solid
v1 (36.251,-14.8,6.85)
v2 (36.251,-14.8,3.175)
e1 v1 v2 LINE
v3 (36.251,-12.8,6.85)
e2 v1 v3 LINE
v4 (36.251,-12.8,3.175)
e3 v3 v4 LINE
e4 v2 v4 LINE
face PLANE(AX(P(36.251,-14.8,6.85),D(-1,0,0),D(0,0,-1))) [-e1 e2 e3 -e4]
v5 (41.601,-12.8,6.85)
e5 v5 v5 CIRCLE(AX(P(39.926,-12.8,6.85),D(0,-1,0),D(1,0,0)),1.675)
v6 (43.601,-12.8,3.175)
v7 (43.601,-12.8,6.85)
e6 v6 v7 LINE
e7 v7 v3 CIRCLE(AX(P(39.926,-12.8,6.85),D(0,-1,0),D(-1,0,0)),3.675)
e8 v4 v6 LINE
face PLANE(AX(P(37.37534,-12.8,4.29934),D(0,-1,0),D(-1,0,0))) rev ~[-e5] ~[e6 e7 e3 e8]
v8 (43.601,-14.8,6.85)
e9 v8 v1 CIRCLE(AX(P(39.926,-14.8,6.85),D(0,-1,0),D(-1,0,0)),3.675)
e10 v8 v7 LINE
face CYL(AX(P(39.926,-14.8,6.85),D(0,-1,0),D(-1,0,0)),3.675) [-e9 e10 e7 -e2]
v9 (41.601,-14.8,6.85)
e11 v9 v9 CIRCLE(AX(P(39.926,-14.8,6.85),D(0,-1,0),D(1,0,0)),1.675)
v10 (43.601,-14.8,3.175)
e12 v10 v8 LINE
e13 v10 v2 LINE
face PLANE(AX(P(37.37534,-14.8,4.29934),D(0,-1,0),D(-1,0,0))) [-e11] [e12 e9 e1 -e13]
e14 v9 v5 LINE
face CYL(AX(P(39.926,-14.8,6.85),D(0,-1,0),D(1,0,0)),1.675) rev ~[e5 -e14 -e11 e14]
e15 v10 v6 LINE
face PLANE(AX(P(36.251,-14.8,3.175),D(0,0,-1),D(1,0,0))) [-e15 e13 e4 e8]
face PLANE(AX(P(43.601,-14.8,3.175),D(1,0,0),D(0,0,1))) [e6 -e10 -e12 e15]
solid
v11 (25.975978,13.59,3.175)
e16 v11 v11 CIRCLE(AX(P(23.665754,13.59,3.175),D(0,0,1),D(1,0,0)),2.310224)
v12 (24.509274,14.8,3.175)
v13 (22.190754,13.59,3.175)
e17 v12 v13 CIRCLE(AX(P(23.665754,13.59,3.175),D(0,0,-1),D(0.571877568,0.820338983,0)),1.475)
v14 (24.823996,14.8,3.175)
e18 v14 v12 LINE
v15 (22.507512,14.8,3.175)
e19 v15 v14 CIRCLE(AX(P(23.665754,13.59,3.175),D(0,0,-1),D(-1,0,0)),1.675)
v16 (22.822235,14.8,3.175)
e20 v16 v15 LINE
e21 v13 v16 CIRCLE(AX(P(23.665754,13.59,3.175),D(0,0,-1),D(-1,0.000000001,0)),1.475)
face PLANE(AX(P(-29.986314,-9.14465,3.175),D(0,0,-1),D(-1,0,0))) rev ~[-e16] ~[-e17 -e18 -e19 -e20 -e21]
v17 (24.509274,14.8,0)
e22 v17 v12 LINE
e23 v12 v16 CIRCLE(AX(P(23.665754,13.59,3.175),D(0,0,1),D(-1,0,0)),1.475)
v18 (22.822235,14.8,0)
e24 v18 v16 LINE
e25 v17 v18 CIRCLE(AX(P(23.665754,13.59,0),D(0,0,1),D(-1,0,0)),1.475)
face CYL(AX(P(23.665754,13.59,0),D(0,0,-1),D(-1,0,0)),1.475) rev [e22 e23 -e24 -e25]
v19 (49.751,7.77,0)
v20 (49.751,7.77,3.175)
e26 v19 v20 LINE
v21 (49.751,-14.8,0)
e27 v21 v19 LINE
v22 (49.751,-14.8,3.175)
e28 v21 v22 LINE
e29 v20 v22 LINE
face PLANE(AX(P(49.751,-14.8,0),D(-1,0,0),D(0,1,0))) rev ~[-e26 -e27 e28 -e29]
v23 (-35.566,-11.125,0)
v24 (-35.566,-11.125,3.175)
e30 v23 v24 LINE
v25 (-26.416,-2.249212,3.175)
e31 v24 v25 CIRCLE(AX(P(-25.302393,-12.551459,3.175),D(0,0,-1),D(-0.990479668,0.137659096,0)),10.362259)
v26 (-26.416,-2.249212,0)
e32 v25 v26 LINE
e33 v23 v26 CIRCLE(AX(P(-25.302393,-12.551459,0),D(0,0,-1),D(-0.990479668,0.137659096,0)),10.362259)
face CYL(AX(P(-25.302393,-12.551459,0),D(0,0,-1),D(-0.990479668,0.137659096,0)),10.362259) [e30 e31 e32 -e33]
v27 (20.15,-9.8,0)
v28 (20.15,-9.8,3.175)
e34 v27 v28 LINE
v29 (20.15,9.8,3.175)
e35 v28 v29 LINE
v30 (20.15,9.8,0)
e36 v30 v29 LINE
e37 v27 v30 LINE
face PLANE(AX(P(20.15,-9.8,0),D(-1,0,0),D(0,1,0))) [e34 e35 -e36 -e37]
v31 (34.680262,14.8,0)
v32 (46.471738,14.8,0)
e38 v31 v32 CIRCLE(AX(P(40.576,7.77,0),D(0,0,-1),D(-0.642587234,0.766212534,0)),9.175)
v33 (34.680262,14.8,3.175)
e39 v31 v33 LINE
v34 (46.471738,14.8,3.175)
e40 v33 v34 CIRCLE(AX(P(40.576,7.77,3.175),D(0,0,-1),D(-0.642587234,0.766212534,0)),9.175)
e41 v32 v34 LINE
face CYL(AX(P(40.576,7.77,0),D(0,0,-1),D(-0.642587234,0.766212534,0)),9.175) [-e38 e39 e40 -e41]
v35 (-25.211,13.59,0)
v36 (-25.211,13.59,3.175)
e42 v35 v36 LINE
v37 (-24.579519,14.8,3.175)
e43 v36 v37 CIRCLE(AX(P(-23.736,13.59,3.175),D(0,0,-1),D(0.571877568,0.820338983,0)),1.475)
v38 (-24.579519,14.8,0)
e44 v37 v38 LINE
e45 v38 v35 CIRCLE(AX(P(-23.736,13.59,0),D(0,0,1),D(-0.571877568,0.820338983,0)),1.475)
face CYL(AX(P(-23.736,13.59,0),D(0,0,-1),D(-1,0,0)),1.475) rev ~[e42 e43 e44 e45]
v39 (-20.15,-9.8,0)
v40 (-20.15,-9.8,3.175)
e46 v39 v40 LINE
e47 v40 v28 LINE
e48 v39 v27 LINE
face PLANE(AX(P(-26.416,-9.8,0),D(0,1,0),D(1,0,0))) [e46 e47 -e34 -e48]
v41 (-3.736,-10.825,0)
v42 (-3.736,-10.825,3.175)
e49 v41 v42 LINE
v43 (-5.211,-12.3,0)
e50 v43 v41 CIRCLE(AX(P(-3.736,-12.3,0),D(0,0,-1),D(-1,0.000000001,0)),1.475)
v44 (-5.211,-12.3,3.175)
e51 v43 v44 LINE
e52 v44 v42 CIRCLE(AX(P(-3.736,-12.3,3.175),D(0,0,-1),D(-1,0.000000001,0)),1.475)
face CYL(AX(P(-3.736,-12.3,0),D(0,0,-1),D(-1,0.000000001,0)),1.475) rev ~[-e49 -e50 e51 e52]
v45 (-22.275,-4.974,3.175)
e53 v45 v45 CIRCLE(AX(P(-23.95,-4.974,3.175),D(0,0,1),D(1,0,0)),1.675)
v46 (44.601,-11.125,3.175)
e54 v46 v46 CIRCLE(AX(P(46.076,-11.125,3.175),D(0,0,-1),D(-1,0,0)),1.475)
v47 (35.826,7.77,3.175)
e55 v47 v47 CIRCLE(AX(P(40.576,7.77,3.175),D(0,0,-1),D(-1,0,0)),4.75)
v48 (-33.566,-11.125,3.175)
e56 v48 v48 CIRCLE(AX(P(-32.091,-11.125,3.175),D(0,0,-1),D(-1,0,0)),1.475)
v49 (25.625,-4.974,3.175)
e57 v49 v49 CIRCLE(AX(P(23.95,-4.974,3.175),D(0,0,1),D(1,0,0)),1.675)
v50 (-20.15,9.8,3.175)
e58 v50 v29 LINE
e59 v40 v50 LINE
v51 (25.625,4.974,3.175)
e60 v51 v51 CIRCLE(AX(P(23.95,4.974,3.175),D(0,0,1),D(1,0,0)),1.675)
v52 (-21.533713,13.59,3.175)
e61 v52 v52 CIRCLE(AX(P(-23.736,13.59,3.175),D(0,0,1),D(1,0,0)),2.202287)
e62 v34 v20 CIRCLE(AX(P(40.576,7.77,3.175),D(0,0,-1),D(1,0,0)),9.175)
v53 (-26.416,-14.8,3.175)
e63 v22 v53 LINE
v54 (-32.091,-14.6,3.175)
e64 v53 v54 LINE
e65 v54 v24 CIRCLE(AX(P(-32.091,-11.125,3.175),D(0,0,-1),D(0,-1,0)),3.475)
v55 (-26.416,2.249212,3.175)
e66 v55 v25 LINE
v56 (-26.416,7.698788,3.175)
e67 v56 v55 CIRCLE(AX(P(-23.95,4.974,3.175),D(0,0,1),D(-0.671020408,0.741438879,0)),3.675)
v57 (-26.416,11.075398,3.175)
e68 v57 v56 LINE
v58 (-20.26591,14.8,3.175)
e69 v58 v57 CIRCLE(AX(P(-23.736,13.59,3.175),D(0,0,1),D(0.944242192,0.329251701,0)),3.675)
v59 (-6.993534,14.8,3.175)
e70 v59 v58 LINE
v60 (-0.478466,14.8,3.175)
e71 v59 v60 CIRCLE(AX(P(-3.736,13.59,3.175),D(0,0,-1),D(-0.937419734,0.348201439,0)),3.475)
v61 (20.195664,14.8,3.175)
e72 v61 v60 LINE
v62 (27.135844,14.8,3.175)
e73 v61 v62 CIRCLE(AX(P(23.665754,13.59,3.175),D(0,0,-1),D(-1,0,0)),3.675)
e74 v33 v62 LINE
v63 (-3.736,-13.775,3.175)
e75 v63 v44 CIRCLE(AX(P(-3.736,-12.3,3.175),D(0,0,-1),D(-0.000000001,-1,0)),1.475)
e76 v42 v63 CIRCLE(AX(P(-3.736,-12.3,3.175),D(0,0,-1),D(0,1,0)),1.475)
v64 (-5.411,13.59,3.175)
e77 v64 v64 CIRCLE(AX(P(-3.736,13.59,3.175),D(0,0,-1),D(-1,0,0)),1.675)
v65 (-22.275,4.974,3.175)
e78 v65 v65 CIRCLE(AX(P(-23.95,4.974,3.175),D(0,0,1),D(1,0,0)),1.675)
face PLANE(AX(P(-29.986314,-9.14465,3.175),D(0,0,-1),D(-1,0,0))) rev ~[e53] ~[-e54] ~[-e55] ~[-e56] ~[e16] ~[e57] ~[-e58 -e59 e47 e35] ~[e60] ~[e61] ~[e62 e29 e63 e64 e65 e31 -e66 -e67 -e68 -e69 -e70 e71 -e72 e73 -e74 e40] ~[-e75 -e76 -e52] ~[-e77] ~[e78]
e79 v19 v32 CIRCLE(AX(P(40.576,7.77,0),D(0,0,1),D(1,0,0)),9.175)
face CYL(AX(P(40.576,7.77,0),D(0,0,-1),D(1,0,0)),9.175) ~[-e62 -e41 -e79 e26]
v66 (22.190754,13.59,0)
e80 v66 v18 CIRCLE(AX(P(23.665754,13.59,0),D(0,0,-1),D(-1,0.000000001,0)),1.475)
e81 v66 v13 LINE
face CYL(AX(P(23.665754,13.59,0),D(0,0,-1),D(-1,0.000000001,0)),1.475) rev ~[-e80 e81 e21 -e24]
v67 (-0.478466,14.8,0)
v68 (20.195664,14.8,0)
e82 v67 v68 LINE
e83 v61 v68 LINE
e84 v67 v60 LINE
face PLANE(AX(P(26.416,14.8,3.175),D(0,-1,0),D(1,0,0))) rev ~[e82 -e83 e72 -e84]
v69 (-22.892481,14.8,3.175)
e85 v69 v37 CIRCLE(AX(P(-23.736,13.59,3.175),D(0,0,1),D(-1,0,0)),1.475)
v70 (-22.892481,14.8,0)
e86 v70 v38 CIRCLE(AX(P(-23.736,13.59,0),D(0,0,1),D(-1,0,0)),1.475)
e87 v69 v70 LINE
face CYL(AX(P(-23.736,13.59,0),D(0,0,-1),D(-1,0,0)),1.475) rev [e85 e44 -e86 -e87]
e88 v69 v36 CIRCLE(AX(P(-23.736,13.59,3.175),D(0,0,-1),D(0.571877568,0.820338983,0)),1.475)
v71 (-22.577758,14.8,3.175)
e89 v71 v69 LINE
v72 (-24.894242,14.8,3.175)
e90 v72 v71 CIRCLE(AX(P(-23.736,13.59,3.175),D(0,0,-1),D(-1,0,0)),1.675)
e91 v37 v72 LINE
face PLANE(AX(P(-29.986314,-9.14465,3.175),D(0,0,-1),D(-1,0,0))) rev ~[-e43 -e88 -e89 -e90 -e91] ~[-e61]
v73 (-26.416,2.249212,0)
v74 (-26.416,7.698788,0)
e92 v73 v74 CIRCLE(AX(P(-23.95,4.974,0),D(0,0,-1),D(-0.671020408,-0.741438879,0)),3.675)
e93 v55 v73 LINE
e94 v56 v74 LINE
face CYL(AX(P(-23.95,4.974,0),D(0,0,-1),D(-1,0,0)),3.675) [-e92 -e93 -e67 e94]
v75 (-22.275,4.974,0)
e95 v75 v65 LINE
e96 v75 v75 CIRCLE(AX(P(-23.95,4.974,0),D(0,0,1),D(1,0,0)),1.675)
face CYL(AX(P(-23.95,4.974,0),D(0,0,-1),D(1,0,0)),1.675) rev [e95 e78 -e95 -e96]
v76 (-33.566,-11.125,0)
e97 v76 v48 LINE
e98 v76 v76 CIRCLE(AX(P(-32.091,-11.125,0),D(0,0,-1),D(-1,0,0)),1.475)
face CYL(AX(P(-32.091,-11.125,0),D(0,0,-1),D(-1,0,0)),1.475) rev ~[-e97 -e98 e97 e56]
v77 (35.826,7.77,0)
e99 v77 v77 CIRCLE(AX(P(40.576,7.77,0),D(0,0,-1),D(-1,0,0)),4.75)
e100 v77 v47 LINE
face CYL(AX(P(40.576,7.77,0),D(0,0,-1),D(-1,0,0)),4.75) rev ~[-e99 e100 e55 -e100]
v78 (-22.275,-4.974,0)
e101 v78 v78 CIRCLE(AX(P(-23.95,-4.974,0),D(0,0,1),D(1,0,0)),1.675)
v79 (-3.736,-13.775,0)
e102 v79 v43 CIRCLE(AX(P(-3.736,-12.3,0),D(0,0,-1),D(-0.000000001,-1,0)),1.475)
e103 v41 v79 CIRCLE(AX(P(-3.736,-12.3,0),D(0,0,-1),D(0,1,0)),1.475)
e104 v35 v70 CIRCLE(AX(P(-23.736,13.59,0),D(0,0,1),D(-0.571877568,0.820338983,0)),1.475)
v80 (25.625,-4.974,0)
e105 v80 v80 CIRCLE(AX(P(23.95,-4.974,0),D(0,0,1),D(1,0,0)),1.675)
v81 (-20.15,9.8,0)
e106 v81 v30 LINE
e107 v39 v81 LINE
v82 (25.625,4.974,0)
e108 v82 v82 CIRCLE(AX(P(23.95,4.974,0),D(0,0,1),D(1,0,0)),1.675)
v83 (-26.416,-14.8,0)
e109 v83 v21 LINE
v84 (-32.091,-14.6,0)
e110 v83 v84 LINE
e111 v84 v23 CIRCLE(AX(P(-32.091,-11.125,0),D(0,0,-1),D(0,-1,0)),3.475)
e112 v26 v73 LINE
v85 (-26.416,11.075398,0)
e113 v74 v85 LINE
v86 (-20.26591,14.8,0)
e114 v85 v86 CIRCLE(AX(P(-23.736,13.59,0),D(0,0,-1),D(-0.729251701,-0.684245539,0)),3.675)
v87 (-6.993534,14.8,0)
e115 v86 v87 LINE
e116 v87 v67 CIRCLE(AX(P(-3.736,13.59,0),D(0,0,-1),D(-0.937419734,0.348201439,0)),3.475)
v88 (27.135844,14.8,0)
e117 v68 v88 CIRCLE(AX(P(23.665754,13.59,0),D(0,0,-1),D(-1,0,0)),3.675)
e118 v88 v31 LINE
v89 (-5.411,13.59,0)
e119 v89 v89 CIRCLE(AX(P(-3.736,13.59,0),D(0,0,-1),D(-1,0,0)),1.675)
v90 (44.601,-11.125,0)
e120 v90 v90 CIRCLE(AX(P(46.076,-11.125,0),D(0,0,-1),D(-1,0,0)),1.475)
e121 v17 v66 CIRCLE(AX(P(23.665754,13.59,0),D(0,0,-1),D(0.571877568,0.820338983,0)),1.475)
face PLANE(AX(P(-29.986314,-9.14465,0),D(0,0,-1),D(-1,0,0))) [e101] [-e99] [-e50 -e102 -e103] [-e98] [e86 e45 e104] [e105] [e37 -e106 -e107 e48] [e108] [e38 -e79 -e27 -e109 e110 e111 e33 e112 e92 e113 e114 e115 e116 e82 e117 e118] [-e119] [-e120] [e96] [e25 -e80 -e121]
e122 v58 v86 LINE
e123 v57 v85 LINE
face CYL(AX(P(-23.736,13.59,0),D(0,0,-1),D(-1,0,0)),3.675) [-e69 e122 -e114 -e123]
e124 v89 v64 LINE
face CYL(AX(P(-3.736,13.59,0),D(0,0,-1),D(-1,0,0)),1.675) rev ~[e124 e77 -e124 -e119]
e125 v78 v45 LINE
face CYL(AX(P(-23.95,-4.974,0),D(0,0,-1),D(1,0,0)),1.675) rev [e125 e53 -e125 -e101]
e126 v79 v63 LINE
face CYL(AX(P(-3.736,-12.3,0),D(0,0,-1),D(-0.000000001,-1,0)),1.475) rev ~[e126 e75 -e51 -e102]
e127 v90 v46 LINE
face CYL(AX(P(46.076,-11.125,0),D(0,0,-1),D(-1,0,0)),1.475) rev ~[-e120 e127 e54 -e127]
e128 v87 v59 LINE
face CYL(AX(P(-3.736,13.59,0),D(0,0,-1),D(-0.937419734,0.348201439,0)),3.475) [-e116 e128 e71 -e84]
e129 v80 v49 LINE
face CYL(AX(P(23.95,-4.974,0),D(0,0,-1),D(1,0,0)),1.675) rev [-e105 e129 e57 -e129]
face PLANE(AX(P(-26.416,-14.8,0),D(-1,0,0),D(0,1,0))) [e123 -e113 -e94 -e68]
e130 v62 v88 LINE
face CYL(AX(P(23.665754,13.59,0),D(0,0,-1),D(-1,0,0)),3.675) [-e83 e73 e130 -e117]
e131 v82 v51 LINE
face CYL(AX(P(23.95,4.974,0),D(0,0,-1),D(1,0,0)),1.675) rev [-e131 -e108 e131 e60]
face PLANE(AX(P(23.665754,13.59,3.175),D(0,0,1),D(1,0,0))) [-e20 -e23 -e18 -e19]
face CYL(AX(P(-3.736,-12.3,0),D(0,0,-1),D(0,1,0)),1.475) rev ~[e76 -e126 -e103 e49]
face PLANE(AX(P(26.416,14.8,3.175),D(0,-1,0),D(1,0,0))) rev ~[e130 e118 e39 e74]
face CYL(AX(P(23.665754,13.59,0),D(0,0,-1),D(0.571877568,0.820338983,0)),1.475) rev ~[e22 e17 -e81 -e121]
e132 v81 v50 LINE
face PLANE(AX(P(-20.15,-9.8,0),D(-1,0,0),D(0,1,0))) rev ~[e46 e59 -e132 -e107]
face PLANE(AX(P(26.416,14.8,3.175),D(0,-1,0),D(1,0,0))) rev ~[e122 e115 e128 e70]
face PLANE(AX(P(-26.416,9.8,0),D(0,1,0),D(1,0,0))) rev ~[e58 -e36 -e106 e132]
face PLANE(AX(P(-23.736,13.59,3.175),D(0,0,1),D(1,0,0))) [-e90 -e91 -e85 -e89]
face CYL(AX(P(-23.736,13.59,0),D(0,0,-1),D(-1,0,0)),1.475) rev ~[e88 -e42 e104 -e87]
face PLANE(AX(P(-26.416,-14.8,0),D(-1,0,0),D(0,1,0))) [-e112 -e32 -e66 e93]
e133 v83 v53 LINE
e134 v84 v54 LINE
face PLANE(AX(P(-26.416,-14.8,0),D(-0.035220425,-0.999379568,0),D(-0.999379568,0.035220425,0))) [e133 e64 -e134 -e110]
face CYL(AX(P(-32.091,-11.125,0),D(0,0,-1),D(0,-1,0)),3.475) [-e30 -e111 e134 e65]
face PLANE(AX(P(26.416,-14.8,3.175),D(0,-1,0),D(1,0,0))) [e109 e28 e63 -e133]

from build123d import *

# Parameters (mm, degrees)
SKETCH1_W            = 6.266
SKETCH1_H            = 19.6
SKETCH1_R            = 1.675
SKETCH1_W_2          = 52.832
SKETCH1_H_2          = 5
BOSS_EXTRUDE2_DEPTH  = 3.175
SKETCH3_W            = 30
SKETCH3_H            = 29.6
BOSS_EXTRUDE3_DEPTH  = 3.175
SKETCH4_R            = 4.75
CUT_EXTRUDE1_DEPTH   = 10
BOSS_EXTRUDE14_DEPTH = 3.175
CUT_EXTRUDE8_DEPTH   = 10
SKETCH24_R           = 1.475
CUT_EXTRUDE9_DEPTH   = 10
SKETCH25_R           = 3.675
SKETCH25_R_2         = 1.675
BOSS_EXTRUDE15_DEPTH = 3.175
SKETCH26_R           = 1.475
CUT_EXTRUDE12_DEPTH  = 3.175
CUT_EXTRUDE13_DEPTH  = 10
SKETCH28_R           = 3.675
SKETCH28_R_2         = 1.675
BOSS_EXTRUDE16_DEPTH = 3.175
SKETCH29_R           = 1.475
BOSS_EXTRUDE17_DEPTH = 3.175
BOSS_EXTRUDE19_DEPTH = 3.175
SKETCH32_R           = 1.675
CUT_EXTRUDE14_DEPTH  = 53.757206626
CUT_EXTRUDE15_DEPTH  = 53.757206626
BOSS_EXTRUDE20_START = -3.175
SKETCH34_R           = 2.202287172
SKETCH34_R_2         = 1.475
SKETCH34_R_3         = 2.310224014
BOSS_EXTRUDE20_DEPTH = 3.175
SKETCH30_R           = 3.675
SKETCH30_R_2         = 1.675
BOSS_EXTRUDE18_DEPTH = 2


with BuildPart() as part:
    # Sketch1 → Boss-Extrude2 (new body)
    # profile 1 of 4: a face of its own
    with BuildSketch(Plane.XY):
        with Locations((-23.283, 0)):
            Rectangle(SKETCH1_W, SKETCH1_H)
        with Locations((-23.95, -4.974)):
            Circle(SKETCH1_R, mode=Mode.SUBTRACT)
        with Locations((-23.95, 4.974)):
            Circle(SKETCH1_R, mode=Mode.SUBTRACT)
    # profile 2 of 4: a face of its own
    with BuildSketch(Plane.XY):
        with Locations((0, -12.3)):
            Rectangle(SKETCH1_W_2, SKETCH1_H_2)
    # profile 3 of 4: a face of its own
    with BuildSketch(Plane.XY):
        with Locations((0, 12.3)):
            Rectangle(SKETCH1_W_2, SKETCH1_H_2)
    # profile 4 of 4: a face of its own
    with BuildSketch(Plane.XY):
        with Locations((23.283, 0)):
            Rectangle(SKETCH1_W, SKETCH1_H)
        with Locations((23.95, -4.974)):
            Circle(SKETCH1_R, mode=Mode.SUBTRACT)
        with Locations((23.95, 4.974)):
            Circle(SKETCH1_R, mode=Mode.SUBTRACT)
    extrude(amount=BOSS_EXTRUDE2_DEPTH)

    # Sketch3 → Boss-Extrude3 (add)
    with BuildSketch(Plane.XY.offset(3.175)):
        with Locations((41.416, 0)):
            Rectangle(SKETCH3_W, SKETCH3_H)
    extrude(amount=-BOSS_EXTRUDE3_DEPTH)

    # Sketch4 → Cut-Extrude1 (cut)
    with BuildSketch(Plane(origin=(0, 0, 0), x_dir=(-1, 0, 0), z_dir=(0, 0, -1))):
        with Locations((-40.576, 7.77)):
            Circle(SKETCH4_R)
    extrude(amount=-CUT_EXTRUDE1_DEPTH, mode=Mode.SUBTRACT)

    # Sketch22 → Boss-Extrude14 (add)
    with BuildSketch(Plane(origin=(0, 0, 0), x_dir=(-1, 0, 0), z_dir=(0, 0, -1))):
        with BuildLine():
            ThreePointArc((-34.680262133, 14.8), (-40.576, 16.945), (-46.471737867, 14.8))
            Line((-46.471737867, 14.8), (-34.680262133, 14.8))
        make_face()
    extrude(amount=-BOSS_EXTRUDE14_DEPTH)

    # Sketch23 → Cut-Extrude8 (cut)
    with BuildSketch(Plane(origin=(0, 0, 0), x_dir=(-1, 0, 0), z_dir=(0, 0, -1))):
        with BuildLine():
            Line((-49.751, -14.8), (-49.751, 7.77))
            ThreePointArc((-49.751, 7.77), (-48.890866804, 11.648609936), (-46.471737867, 14.8))
            Line((-46.471737867, 14.8), (-56.416, 14.8))
            Line((-56.416, 14.8), (-56.416, -14.8))
            Line((-56.416, -14.8), (-49.751, -14.8))
        make_face()
    extrude(amount=-CUT_EXTRUDE8_DEPTH, mode=Mode.SUBTRACT)

    # Sketch24 → Cut-Extrude9 (cut)
    with BuildSketch(Plane(origin=(0, 0, 0), x_dir=(-1, 0, 0), z_dir=(0, 0, -1))):
        with Locations((23.736, 13.59)):
            Circle(SKETCH24_R)
    extrude(amount=-CUT_EXTRUDE9_DEPTH, mode=Mode.SUBTRACT)

    # Sketch25 → Boss-Extrude15 (add)
    # profile 1 of 3: a face of its own
    with BuildSketch(Plane(origin=(0, 0, 0), x_dir=(-1, 0, 0), z_dir=(0, 0, -1))):
        with Locations((23.95, -4.974)):
            Circle(SKETCH25_R)
        with Locations(Location((23.95, -4.974, 0), (0, 0, 180))):
            Circle(SKETCH25_R_2, mode=Mode.SUBTRACT)
    # profile 2 of 3: a face of its own
    with BuildSketch(Plane(origin=(0, 0, 0), x_dir=(-1, 0, 0), z_dir=(0, 0, -1))):
        with Locations((23.95, 4.974)):
            Circle(SKETCH25_R)
        with Locations(Location((23.95, 4.974, 0), (0, 0, 180))):
            Circle(SKETCH25_R_2, mode=Mode.SUBTRACT)
    # profile 3 of 3: a face of its own
    with BuildSketch(Plane(origin=(0, 0, 0), x_dir=(-1, 0, 0), z_dir=(0, 0, -1))):
        with Locations((23.736, 13.59)):
            Circle(SKETCH25_R)
        with Locations((23.736, 13.59)):
            Circle(SKETCH25_R_2, mode=Mode.SUBTRACT)
    extrude(amount=-BOSS_EXTRUDE15_DEPTH)

    # Sketch26 → Cut-Extrude12 (cut)
    with BuildSketch(Plane(origin=(0, 0, 0), x_dir=(-1, 0, 0), z_dir=(0, 0, -1))):
        with Locations((-46.076, -11.125)):
            Circle(SKETCH26_R)
    extrude(amount=-CUT_EXTRUDE12_DEPTH, mode=Mode.SUBTRACT)

    # Sketch27 → Cut-Extrude13 (cut)
    with BuildSketch(Plane(origin=(0, 0, 0), x_dir=(-1, 0, 0), z_dir=(0, 0, -1))):
        with BuildLine():
            ThreePointArc((-22.190754209, 13.59), (-22.358119678, 14.272434563), (-22.822234796, 14.8))
            Line((-22.822234796, 14.8), (-24.509273622, 14.8))
            ThreePointArc((-24.509273622, 14.8), (-24.348188772, 12.282365469), (-22.190754209, 13.59))
        make_face()
        with BuildLine():
            Line((-24.509273622, 14.8), (-22.822234796, 14.8))
            ThreePointArc((-22.822234796, 14.8), (-23.665754209, 15.065), (-24.509273622, 14.8))
        make_face()
    extrude(amount=-CUT_EXTRUDE13_DEPTH, mode=Mode.SUBTRACT)

    # Sketch28 → Boss-Extrude16 (add)
    with BuildSketch(Plane(origin=(0, 0, 0), x_dir=(-1, 0, 0), z_dir=(0, 0, -1))):
        with Locations((-23.665754209, 13.59)):
            Circle(SKETCH28_R)
        with Locations((-23.665754209, 13.59)):
            Circle(SKETCH28_R_2, mode=Mode.SUBTRACT)
    extrude(amount=-BOSS_EXTRUDE16_DEPTH)

    # Sketch29 → Boss-Extrude17 (add)
    with BuildSketch(Plane(origin=(0, 0, 0), x_dir=(-1, 0, 0), z_dir=(0, 0, -1))):
        with BuildLine():
            ThreePointArc((35.566, -11.125), (32.517318638, -5.113632727), (26.416, -2.249212118))
            Line((26.416, -2.249212118), (26.416, -14.8))
            Line((26.416, -14.8), (32.091, -14.6))
            ThreePointArc((32.091, -14.6), (34.548196065, -13.582196065), (35.566, -11.125))
        make_face()
        with Locations((32.091, -11.125)):
            Circle(SKETCH29_R, mode=Mode.SUBTRACT)
    extrude(amount=-BOSS_EXTRUDE17_DEPTH)

    # Sketch31 → Boss-Extrude19 (add)
    with BuildSketch(Plane(origin=(0, 0, 0), x_dir=(-1, 0, 0), z_dir=(0, 0, -1))):
        with BuildLine():
            ThreePointArc((4.579519413, 14.8), (5.043634531, 14.272434563), (5.211, 13.59))
            ThreePointArc((5.211, 13.59), (3.053565437, 12.282365469), (2.892480587, 14.8))
            Line((2.892480587, 14.8), (0.478466424, 14.8))
            ThreePointArc((0.478466424, 14.8), (3.121306653, 10.169798677), (7.211, 13.59))
            ThreePointArc((7.211, 13.59), (7.156201323, 14.204693347), (6.993533576, 14.8))
            Line((6.993533576, 14.8), (4.579519413, 14.8))
        make_face()
        with BuildLine():
            ThreePointArc((2.892480587, 14.8), (3.736, 15.065), (4.579519413, 14.8))
            Line((4.579519413, 14.8), (6.993533576, 14.8))
            ThreePointArc((6.993533576, 14.8), (3.736, 17.065), (0.478466424, 14.8))
            Line((0.478466424, 14.8), (2.892480587, 14.8))
        make_face()
    extrude(amount=-BOSS_EXTRUDE19_DEPTH)

    # Sketch32 → Cut-Extrude14 (cut, through all)
    with BuildSketch(Plane(origin=(0, 0, 0), x_dir=(-1, 0, 0), z_dir=(0, 0, -1))):
        with Locations((3.736, 13.59)):
            Circle(SKETCH32_R)
    extrude(amount=-CUT_EXTRUDE14_DEPTH, mode=Mode.SUBTRACT)

    # Sketch33 → Cut-Extrude15 (cut, through all)
    with BuildSketch(Plane(origin=(0, 0, 0), x_dir=(-1, 0, 0), z_dir=(0, 0, -1))):
        with BuildLine():
            ThreePointArc((5.211, -12.3), (4.778982502, -11.257017498), (3.736, -10.825))
            Line((3.736, -10.825), (3.736, -13.775))
            ThreePointArc((3.736, -13.775), (4.778982502, -13.342982502), (5.211, -12.3))
        make_face()
        with BuildLine():
            Line((3.736, -13.775), (3.736, -10.825))
            ThreePointArc((3.736, -10.825), (2.261, -12.3), (3.736, -13.775))
        make_face()
    extrude(amount=-CUT_EXTRUDE15_DEPTH, mode=Mode.SUBTRACT)

    # Sketch34 → Boss-Extrude20 (add)
    # profile 1 of 2: a face of its own
    with BuildSketch(Plane.XY.offset(3.175).offset(BOSS_EXTRUDE20_START)):
        with Locations((-23.736, 13.59)):
            Circle(SKETCH34_R)
        with Locations(Location((-23.736, 13.59, 0), (0, 0, 180))):
            Circle(SKETCH34_R_2, mode=Mode.SUBTRACT)
    # profile 2 of 2: a face of its own
    with BuildSketch(Plane.XY.offset(3.175).offset(BOSS_EXTRUDE20_START)):
        with Locations((23.665754209, 13.59)):
            Circle(SKETCH34_R_3)
        with Locations(Location((23.665754209, 13.59, 0), (0, 0, 180))):
            Circle(SKETCH34_R_2, mode=Mode.SUBTRACT)
    extrude(amount=BOSS_EXTRUDE20_DEPTH)


with BuildPart() as body_2:
    # Sketch30 → Boss-Extrude18 (new body)
    # profile 1 of 3: a face of its own
    with BuildSketch(Plane(origin=(0, -14.8, 0), x_dir=(-1, 0, 0), z_dir=(0, -1, 0))):
        with Locations((-39.926, -6.85)):
            Circle(SKETCH30_R)
        with Locations(Location((-39.926, -6.85, 0), (0, 0, 180))):
            Circle(SKETCH30_R_2, mode=Mode.SUBTRACT)
    # profile 2 of 3: a face of its own
    with BuildSketch(Plane(origin=(0, -14.8, 0), x_dir=(-1, 0, 0), z_dir=(0, -1, 0))):
        with BuildLine():
            Line((-43.601, -3.175), (-43.601, -6.85))
            ThreePointArc((-43.601, -6.85), (-42.524617421, -4.251382579), (-39.926, -3.175))
            Line((-39.926, -3.175), (-43.601, -3.175))
        make_face()
    # profile 3 of 3: a face of its own
    with BuildSketch(Plane(origin=(0, -14.8, 0), x_dir=(-1, 0, 0), z_dir=(0, -1, 0))):
        with BuildLine():
            ThreePointArc((-39.926, -3.175), (-37.327382579, -4.251382579), (-36.251, -6.85))
            Line((-36.251, -6.85), (-36.251, -3.175))
            Line((-36.251, -3.175), (-39.926, -3.175))
        make_face()
    extrude(amount=-BOSS_EXTRUDE18_DEPTH)


solid = Compound([part.part, body_2.part])
